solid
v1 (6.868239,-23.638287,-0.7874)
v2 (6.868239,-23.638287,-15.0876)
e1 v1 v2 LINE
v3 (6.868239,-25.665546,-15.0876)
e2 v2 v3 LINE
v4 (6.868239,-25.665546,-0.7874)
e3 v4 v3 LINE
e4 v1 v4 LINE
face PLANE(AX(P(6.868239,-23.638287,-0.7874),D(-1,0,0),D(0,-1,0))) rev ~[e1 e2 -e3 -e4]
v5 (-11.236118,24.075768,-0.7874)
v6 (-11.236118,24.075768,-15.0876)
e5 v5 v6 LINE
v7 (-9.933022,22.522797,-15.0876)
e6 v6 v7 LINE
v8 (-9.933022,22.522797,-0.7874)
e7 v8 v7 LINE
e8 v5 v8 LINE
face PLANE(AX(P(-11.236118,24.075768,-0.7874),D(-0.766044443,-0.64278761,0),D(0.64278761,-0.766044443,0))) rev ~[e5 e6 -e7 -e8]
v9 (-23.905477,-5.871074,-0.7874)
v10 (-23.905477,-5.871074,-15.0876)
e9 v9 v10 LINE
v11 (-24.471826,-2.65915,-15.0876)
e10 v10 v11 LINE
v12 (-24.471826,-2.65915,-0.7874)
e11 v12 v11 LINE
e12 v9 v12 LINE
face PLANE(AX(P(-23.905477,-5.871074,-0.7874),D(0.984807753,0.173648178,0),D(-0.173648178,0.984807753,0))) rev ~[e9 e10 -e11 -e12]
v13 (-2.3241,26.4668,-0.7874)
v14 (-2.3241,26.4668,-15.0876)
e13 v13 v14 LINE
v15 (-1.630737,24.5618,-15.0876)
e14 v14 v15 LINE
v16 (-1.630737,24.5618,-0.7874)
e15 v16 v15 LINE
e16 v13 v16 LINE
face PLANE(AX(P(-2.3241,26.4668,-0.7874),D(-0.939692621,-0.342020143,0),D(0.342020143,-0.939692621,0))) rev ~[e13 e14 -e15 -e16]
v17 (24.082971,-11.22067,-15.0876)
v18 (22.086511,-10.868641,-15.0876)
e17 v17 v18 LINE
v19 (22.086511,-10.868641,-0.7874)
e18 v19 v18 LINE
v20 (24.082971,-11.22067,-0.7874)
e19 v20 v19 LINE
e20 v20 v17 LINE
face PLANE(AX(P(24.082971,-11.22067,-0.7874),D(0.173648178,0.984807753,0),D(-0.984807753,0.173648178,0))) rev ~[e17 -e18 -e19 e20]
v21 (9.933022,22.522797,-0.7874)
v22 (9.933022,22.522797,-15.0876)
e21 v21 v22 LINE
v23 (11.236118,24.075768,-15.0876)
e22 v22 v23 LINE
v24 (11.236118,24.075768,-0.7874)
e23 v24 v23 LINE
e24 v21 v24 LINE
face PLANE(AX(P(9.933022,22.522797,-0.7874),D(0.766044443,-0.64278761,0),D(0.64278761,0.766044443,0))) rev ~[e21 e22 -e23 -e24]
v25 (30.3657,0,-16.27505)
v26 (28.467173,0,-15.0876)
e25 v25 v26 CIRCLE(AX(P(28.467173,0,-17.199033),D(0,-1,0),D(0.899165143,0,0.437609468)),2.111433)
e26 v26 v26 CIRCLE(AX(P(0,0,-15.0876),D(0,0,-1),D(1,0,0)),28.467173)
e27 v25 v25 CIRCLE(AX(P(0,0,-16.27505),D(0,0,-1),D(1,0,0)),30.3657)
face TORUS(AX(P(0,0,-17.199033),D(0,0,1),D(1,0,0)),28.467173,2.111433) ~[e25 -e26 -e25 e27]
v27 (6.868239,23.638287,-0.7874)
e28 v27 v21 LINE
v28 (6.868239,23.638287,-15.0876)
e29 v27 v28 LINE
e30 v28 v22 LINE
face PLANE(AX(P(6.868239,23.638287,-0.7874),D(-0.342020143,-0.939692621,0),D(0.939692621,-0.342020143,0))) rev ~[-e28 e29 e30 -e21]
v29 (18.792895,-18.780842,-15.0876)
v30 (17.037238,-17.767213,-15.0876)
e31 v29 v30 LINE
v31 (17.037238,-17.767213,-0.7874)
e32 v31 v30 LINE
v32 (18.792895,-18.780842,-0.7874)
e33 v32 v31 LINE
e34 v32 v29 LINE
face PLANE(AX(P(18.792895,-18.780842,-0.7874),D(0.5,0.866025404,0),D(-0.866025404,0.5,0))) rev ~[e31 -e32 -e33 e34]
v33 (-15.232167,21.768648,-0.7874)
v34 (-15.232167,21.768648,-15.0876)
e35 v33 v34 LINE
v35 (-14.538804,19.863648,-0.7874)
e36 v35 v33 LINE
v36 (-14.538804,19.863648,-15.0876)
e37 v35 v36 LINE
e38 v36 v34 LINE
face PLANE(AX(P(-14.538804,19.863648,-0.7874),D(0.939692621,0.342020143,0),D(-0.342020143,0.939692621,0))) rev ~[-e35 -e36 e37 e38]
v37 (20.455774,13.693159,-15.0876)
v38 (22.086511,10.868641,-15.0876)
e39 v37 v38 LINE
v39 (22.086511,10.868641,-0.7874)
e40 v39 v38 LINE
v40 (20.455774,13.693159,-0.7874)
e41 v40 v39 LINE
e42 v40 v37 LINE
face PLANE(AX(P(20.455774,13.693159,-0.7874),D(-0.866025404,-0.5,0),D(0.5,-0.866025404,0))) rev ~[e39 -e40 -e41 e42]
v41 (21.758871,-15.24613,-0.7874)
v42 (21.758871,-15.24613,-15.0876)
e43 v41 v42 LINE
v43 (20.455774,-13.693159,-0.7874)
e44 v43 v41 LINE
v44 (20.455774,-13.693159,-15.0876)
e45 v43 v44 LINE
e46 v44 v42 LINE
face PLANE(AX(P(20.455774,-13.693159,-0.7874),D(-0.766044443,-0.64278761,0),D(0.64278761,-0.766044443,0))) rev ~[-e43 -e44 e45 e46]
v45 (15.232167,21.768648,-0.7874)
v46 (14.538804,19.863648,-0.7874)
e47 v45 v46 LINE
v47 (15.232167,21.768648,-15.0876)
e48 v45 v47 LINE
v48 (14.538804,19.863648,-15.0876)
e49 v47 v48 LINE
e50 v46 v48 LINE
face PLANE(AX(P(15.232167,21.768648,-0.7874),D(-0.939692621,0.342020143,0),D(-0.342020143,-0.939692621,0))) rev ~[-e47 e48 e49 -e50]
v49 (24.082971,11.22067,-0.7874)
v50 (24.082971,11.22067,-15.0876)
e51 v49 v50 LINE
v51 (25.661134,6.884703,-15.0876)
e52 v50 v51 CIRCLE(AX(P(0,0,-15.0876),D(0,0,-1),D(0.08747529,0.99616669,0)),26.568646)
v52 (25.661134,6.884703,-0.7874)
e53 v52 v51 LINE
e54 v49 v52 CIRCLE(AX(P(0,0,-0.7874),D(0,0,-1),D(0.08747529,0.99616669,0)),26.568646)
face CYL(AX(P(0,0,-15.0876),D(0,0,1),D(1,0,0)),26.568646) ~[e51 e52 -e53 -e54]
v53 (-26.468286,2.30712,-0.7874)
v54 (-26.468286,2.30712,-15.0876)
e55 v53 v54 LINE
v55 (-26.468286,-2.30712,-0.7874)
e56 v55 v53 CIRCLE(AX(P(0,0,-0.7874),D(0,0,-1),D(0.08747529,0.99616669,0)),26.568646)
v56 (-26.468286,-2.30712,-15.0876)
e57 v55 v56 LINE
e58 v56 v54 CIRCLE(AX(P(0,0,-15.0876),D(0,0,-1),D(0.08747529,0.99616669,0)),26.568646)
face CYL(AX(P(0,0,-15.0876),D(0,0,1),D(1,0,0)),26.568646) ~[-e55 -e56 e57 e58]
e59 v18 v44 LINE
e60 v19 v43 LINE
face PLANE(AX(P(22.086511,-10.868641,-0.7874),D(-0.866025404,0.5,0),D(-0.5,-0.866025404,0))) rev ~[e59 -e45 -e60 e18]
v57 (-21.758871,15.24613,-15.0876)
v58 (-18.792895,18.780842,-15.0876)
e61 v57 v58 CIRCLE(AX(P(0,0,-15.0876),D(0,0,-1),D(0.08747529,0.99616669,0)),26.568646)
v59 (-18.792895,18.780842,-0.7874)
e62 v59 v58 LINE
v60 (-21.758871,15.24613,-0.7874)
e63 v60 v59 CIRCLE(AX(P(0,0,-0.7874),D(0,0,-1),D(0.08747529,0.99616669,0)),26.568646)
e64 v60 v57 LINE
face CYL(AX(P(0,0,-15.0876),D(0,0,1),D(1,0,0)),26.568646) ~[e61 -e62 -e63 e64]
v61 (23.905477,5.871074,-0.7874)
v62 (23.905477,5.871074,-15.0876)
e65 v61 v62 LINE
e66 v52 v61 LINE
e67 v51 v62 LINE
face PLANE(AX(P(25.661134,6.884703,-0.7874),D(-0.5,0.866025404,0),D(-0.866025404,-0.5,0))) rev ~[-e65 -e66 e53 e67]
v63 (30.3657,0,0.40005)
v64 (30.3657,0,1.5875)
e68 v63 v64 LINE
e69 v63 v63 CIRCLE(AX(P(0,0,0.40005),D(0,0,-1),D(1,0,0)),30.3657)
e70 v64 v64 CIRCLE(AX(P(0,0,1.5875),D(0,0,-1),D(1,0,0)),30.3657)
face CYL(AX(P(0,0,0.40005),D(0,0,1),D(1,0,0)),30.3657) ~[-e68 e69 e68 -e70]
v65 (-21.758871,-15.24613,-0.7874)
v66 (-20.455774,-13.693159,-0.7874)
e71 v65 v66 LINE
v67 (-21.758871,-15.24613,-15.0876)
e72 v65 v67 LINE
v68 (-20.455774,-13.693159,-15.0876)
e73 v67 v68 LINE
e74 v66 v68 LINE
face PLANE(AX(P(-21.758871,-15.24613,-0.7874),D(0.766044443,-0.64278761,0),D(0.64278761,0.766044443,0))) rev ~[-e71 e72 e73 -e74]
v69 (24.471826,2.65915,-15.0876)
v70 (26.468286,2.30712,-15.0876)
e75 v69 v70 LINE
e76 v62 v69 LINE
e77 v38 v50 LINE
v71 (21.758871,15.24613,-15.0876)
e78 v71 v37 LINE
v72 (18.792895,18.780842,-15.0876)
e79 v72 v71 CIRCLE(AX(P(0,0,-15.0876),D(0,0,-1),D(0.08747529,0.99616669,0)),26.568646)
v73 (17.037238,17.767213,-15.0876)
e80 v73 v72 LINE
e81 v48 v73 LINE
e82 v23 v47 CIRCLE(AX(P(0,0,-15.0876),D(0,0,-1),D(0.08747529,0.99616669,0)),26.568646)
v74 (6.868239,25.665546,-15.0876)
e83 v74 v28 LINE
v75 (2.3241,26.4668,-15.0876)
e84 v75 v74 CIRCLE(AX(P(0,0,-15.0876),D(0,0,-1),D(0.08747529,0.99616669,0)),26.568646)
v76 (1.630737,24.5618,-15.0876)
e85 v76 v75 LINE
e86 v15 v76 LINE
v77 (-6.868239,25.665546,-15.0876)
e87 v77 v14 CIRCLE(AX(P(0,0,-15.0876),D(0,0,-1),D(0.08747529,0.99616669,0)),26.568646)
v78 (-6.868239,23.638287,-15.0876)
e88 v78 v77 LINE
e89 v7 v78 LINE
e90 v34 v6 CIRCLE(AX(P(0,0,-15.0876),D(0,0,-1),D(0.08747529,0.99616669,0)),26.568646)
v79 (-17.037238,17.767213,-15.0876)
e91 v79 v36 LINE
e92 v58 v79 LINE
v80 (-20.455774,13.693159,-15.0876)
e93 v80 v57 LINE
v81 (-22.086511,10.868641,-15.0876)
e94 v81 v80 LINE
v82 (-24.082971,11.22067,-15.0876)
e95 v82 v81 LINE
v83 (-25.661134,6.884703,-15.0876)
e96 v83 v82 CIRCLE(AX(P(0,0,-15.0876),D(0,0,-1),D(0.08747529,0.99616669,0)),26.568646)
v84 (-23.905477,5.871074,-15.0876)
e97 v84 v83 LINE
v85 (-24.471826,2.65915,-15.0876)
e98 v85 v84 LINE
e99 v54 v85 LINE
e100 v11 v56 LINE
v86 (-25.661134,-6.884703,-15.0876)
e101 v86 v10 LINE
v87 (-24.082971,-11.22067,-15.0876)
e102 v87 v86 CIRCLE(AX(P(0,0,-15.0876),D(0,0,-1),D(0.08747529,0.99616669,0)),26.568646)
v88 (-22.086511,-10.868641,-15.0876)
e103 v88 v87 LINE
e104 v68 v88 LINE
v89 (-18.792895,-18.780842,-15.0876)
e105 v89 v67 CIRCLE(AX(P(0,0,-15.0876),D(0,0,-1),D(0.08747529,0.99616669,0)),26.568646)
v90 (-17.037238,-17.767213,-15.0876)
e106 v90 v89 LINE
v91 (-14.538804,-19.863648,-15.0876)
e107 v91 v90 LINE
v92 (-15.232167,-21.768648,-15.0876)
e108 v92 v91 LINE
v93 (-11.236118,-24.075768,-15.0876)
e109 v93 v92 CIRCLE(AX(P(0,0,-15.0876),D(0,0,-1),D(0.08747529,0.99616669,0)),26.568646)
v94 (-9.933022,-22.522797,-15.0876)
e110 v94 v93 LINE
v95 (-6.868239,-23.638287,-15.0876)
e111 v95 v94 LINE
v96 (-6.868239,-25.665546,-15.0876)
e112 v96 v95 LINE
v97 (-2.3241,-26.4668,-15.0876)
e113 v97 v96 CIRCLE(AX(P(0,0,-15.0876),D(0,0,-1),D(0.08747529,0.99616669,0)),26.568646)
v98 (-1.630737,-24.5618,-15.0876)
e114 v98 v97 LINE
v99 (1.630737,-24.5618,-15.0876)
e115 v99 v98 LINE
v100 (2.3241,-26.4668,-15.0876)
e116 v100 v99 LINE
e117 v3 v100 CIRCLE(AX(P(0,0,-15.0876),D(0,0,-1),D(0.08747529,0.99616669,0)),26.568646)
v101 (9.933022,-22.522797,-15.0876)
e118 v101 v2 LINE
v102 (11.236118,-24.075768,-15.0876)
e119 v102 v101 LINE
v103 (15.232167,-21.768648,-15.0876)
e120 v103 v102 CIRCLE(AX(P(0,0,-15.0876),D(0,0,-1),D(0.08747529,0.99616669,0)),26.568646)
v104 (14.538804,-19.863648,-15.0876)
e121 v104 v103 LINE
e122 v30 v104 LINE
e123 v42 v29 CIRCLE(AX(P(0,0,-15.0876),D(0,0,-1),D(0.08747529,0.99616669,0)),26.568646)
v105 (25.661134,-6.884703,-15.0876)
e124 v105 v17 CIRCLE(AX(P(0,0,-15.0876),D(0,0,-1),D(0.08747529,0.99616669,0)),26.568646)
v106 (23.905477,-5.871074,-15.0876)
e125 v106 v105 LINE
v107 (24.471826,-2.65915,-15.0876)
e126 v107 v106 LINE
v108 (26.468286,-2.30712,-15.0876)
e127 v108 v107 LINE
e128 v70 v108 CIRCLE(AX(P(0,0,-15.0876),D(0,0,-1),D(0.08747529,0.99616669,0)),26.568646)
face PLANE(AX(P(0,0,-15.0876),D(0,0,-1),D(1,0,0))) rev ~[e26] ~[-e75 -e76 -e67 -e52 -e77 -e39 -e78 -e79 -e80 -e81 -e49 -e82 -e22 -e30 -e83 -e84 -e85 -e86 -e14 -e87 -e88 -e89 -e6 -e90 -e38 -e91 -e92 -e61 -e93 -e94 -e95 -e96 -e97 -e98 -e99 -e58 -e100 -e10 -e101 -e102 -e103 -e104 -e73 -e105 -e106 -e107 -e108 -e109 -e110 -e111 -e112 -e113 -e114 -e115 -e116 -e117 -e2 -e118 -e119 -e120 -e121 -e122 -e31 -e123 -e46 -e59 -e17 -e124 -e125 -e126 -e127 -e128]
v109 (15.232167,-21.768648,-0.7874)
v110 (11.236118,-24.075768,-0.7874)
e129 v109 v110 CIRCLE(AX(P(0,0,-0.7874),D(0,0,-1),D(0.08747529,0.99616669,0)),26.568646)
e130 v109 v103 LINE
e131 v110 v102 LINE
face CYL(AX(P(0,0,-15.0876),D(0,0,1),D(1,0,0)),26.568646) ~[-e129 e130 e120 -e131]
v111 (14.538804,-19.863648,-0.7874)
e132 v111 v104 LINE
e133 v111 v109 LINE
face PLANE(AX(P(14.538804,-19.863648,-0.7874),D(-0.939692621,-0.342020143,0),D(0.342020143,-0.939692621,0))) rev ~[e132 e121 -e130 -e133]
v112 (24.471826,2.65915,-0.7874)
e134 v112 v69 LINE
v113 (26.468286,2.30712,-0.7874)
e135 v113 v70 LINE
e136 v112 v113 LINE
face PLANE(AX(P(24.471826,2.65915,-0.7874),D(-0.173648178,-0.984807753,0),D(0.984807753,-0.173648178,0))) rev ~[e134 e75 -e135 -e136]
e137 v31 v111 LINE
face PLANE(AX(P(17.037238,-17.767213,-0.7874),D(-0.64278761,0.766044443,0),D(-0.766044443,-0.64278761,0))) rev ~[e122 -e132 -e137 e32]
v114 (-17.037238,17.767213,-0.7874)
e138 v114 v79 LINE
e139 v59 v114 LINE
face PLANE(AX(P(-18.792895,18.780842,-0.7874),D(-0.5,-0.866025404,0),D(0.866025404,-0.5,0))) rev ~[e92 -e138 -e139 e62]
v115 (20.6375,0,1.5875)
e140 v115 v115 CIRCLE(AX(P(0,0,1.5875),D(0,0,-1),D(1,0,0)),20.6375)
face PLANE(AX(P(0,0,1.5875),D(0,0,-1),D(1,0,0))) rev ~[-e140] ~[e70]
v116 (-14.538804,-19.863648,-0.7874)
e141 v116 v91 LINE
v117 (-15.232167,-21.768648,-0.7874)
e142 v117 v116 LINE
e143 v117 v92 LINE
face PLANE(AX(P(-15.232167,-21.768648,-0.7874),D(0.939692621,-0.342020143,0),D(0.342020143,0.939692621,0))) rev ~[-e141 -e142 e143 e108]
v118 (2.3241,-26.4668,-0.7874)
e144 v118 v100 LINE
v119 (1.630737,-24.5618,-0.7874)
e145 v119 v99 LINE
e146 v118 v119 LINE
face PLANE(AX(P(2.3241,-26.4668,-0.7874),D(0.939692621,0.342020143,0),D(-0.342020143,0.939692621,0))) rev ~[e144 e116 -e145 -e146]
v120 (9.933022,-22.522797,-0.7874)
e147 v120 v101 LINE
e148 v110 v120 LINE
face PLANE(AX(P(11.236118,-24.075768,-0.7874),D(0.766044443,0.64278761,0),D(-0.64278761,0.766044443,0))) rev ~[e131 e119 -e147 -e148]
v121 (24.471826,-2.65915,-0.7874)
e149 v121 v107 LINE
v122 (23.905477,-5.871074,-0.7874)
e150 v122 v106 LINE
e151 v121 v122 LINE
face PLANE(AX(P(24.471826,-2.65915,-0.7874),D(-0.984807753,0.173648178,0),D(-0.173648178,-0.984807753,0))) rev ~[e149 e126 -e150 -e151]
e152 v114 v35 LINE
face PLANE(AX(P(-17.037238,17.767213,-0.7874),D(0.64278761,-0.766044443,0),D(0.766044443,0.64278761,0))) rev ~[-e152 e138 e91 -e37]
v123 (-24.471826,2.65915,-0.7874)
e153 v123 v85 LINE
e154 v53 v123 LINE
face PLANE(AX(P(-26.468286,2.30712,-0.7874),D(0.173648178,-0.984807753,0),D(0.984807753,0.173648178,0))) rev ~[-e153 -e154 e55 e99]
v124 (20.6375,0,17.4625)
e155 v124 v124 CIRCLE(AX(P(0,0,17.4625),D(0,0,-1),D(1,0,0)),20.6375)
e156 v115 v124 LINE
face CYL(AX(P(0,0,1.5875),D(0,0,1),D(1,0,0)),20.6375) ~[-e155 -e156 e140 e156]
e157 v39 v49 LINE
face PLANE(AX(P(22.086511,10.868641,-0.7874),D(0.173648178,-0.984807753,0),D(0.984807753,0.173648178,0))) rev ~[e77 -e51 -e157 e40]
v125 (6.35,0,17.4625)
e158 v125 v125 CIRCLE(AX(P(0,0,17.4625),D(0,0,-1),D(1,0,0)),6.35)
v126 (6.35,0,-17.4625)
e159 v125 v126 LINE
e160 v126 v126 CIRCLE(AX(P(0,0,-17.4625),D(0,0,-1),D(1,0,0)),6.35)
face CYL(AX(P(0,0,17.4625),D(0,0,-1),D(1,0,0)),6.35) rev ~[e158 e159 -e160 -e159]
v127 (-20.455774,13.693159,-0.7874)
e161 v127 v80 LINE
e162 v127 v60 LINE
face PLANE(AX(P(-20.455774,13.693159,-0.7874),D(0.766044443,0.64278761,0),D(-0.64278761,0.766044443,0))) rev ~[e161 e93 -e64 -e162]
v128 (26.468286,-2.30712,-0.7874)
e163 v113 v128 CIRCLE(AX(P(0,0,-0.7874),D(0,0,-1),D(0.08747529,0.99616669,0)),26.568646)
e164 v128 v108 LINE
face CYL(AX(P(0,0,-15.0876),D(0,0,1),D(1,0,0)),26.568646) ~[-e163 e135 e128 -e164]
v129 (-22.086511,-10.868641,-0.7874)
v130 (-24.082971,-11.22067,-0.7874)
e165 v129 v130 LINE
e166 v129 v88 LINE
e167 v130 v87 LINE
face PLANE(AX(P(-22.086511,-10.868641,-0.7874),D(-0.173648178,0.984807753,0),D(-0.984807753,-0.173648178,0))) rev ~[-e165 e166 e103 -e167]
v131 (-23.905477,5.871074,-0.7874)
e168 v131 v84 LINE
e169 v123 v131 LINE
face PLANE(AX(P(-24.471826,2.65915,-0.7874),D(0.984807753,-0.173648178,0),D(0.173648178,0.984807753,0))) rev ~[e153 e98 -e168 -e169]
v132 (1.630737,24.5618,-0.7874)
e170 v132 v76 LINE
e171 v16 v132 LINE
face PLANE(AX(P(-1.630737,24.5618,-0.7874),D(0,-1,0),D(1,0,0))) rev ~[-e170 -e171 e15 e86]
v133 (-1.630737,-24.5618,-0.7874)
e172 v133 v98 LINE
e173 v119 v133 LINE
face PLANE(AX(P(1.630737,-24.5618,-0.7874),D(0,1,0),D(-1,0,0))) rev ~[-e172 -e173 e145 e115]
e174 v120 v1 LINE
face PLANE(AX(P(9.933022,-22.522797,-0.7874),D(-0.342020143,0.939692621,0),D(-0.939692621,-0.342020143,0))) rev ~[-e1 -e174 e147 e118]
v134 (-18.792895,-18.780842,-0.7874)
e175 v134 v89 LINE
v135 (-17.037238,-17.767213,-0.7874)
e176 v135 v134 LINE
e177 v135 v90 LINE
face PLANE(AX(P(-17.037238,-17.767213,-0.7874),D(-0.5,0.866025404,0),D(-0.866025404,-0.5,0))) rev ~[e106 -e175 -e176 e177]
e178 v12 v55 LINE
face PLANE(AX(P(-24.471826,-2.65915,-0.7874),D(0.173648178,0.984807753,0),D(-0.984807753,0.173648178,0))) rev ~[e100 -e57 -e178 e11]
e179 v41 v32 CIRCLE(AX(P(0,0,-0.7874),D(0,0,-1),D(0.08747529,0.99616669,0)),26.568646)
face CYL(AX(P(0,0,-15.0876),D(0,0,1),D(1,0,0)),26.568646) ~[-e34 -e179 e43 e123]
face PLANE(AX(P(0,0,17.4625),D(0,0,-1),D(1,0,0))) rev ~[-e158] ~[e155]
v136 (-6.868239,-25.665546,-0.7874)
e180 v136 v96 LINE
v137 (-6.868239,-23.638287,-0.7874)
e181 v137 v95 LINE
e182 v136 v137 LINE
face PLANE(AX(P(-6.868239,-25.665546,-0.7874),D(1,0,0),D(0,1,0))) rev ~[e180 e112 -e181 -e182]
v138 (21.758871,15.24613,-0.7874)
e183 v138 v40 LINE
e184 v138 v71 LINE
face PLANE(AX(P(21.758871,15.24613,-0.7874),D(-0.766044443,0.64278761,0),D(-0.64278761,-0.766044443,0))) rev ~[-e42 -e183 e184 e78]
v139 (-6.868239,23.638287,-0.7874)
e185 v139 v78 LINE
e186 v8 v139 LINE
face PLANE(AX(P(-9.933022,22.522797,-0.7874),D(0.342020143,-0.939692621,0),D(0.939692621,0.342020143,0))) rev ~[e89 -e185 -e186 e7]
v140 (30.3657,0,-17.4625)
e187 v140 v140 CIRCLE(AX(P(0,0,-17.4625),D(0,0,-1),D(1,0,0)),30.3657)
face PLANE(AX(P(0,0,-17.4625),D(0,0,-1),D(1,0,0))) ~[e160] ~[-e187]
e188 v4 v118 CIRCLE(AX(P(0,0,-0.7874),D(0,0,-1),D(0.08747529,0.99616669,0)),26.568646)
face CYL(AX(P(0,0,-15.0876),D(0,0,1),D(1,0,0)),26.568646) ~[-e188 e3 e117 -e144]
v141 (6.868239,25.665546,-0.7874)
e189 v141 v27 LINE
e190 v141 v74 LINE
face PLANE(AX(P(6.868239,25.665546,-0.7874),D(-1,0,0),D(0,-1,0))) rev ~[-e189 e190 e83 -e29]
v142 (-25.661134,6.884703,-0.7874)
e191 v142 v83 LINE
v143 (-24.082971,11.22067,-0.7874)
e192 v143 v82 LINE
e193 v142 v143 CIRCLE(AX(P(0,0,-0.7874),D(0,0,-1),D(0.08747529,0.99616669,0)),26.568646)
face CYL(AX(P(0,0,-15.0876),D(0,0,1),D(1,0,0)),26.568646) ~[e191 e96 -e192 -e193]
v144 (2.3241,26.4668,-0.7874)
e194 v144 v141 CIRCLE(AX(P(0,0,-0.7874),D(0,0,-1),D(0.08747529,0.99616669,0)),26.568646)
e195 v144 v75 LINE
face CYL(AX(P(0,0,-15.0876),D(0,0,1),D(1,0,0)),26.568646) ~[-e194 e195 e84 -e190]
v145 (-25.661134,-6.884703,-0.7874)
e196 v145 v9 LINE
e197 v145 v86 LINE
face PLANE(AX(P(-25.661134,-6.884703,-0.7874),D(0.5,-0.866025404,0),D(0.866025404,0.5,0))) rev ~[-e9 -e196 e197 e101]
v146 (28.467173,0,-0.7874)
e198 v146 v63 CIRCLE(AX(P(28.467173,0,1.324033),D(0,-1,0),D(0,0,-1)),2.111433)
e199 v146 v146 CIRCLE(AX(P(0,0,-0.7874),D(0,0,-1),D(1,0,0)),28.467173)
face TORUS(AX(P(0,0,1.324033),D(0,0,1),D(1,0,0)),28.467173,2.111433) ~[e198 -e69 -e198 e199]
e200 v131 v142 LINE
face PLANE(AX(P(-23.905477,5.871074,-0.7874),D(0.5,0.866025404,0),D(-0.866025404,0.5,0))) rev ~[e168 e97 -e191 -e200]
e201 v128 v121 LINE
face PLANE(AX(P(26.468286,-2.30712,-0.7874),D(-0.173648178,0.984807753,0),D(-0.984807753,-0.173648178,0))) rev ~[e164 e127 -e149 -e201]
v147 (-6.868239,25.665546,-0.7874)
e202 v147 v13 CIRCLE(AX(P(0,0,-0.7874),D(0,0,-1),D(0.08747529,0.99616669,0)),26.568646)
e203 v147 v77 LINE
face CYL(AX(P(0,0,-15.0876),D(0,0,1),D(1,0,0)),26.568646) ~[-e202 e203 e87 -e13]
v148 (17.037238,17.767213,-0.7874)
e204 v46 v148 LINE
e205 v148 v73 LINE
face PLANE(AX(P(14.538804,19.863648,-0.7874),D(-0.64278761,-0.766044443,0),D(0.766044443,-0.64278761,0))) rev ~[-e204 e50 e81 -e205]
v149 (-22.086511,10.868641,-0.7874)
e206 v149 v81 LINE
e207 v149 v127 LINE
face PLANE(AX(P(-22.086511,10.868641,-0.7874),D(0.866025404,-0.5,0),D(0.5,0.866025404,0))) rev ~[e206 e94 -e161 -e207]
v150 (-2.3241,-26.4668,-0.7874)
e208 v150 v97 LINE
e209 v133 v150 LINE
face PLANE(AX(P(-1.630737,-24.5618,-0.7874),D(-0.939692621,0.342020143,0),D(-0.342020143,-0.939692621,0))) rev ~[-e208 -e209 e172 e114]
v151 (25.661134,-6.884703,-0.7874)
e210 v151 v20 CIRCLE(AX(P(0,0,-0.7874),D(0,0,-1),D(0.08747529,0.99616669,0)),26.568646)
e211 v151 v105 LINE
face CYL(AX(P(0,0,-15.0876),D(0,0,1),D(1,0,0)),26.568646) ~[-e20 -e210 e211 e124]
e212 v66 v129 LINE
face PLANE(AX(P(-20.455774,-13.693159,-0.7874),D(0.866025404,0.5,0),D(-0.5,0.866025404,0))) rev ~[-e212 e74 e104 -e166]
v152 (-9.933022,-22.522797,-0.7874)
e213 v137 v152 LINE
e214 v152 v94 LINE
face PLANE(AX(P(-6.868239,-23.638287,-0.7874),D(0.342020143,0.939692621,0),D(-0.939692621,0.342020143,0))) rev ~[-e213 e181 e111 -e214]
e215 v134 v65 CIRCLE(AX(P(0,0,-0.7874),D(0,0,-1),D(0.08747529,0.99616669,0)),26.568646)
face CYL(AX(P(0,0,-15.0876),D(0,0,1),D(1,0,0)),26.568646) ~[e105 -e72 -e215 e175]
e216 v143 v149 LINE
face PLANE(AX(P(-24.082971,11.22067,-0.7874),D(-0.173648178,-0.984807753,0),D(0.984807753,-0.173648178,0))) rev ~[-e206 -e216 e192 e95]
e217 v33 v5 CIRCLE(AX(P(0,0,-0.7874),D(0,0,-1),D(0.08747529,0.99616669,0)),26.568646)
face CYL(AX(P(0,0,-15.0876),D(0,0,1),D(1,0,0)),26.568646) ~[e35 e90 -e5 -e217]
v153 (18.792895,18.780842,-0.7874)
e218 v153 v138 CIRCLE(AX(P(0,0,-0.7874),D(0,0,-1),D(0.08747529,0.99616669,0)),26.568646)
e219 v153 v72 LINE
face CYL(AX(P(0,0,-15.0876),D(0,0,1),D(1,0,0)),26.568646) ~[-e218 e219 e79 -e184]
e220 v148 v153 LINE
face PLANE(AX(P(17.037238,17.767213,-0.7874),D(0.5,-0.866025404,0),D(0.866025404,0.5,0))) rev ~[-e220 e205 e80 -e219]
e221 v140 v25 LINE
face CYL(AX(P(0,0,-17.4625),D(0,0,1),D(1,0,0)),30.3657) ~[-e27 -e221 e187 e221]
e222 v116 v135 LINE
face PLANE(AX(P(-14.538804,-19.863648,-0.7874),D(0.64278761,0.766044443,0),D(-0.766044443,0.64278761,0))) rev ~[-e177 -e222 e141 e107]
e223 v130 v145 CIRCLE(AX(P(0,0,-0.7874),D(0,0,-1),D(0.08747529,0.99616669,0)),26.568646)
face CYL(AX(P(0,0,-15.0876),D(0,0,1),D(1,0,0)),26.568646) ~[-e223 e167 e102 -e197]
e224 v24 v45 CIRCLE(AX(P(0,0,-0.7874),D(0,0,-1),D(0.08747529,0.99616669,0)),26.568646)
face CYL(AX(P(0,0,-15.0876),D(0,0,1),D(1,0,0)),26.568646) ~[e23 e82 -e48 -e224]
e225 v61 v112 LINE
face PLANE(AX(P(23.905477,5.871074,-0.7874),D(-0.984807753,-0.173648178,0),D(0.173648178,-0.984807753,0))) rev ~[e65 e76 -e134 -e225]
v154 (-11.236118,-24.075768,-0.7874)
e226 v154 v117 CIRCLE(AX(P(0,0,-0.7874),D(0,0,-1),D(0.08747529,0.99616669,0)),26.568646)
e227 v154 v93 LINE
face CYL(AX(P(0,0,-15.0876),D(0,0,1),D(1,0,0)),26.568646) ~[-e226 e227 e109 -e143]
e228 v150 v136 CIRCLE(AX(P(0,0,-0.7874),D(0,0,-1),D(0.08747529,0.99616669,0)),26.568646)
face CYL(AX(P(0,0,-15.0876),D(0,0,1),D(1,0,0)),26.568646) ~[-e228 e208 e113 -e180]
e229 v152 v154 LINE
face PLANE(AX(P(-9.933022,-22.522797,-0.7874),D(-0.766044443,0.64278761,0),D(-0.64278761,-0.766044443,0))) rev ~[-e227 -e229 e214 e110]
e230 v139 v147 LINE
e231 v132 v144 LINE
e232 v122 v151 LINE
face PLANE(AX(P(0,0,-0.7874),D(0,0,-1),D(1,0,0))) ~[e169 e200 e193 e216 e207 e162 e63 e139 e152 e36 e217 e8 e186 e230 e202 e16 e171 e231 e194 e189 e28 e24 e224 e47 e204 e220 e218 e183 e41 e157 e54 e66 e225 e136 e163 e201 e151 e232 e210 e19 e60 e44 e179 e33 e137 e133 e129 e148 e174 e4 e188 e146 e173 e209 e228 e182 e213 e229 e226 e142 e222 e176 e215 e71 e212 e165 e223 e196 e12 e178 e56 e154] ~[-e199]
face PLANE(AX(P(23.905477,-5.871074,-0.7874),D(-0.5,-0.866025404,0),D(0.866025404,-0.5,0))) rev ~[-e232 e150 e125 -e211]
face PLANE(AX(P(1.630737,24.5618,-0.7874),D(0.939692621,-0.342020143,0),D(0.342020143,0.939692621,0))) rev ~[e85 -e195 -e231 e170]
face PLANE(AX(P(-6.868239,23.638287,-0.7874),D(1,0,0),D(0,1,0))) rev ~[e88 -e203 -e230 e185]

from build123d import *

# Parameters (mm, degrees)
CUT_EXTRUDE1_START = -0.7874
CUT_EXTRUDE1_DEPTH = 14.3002
CIRPATTERN1_COUNT  = 18


with BuildPart() as part:
    # Sketch2 → Revolve1 (revolve)
    with BuildSketch(Plane(origin=(0, 0, 0), x_dir=(0, 0, -1), z_dir=(1, 0, 0)), mode=Mode.PRIVATE) as revolve1_sk:
        with BuildLine():
            Line((-17.4625, 6.35), (17.4625, 6.35))
            Line((17.4625, 6.35), (17.4625, 30.3657))
            Line((17.4625, 30.3657), (16.27505, 30.3657))
            ThreePointArc((16.27505, 30.3657), (15.408910445, 29.58682048), (15.0876, 28.467172932))
            Line((15.0876, 28.467172932), (15.0876, 26.568645864))
            Line((15.0876, 26.568645864), (0.7874, 26.568645864))
            Line((0.7874, 26.568645864), (0.7874, 28.467172932))
            ThreePointArc((0.7874, 28.467172932), (0.466089555, 29.58682048), (-0.40005, 30.3657))
            Line((-0.40005, 30.3657), (-1.5875, 30.3657))
            Line((-1.5875, 30.3657), (-1.5875, 20.6375))
            Line((-1.5875, 20.6375), (-17.4625, 20.6375))
            Line((-17.4625, 20.6375), (-17.4625, 6.35))
        make_face()
    revolve(revolve1_sk.sketch.rotate(Axis((0, 0, 17.4625), (0, 0, -1)), 90), axis=Axis((0, 0, 17.4625), (0, 0, -1)))

    # Sketch3 → Cut-Extrude1 (cut)
    with BuildSketch(Plane.XY.offset(CUT_EXTRUDE1_START)):
        with BuildLine():
            Line((-1.630736704, 24.5618), (1.630736704, 24.5618))
            Line((1.630736704, 24.5618), (2.3241, 26.4668))
            ThreePointArc((2.3241, 26.4668), (0, 26.568645864), (-2.3241, 26.4668))
            Line((-2.3241, 26.4668), (-1.630736704, 24.5618))
        make_face()
    cut_extrude1 = extrude(amount=-CUT_EXTRUDE1_DEPTH, mode=Mode.SUBTRACT)

    # CirPattern1: Cut-Extrude1 ×18 about axis
    cirpattern1_axis = Axis((0, 0, 0), (0, 0, 1))
    for i in range(1, CIRPATTERN1_COUNT):
        add(cut_extrude1.rotate(cirpattern1_axis, i * 360 / CIRPATTERN1_COUNT), mode=Mode.SUBTRACT)


solid = part.part
